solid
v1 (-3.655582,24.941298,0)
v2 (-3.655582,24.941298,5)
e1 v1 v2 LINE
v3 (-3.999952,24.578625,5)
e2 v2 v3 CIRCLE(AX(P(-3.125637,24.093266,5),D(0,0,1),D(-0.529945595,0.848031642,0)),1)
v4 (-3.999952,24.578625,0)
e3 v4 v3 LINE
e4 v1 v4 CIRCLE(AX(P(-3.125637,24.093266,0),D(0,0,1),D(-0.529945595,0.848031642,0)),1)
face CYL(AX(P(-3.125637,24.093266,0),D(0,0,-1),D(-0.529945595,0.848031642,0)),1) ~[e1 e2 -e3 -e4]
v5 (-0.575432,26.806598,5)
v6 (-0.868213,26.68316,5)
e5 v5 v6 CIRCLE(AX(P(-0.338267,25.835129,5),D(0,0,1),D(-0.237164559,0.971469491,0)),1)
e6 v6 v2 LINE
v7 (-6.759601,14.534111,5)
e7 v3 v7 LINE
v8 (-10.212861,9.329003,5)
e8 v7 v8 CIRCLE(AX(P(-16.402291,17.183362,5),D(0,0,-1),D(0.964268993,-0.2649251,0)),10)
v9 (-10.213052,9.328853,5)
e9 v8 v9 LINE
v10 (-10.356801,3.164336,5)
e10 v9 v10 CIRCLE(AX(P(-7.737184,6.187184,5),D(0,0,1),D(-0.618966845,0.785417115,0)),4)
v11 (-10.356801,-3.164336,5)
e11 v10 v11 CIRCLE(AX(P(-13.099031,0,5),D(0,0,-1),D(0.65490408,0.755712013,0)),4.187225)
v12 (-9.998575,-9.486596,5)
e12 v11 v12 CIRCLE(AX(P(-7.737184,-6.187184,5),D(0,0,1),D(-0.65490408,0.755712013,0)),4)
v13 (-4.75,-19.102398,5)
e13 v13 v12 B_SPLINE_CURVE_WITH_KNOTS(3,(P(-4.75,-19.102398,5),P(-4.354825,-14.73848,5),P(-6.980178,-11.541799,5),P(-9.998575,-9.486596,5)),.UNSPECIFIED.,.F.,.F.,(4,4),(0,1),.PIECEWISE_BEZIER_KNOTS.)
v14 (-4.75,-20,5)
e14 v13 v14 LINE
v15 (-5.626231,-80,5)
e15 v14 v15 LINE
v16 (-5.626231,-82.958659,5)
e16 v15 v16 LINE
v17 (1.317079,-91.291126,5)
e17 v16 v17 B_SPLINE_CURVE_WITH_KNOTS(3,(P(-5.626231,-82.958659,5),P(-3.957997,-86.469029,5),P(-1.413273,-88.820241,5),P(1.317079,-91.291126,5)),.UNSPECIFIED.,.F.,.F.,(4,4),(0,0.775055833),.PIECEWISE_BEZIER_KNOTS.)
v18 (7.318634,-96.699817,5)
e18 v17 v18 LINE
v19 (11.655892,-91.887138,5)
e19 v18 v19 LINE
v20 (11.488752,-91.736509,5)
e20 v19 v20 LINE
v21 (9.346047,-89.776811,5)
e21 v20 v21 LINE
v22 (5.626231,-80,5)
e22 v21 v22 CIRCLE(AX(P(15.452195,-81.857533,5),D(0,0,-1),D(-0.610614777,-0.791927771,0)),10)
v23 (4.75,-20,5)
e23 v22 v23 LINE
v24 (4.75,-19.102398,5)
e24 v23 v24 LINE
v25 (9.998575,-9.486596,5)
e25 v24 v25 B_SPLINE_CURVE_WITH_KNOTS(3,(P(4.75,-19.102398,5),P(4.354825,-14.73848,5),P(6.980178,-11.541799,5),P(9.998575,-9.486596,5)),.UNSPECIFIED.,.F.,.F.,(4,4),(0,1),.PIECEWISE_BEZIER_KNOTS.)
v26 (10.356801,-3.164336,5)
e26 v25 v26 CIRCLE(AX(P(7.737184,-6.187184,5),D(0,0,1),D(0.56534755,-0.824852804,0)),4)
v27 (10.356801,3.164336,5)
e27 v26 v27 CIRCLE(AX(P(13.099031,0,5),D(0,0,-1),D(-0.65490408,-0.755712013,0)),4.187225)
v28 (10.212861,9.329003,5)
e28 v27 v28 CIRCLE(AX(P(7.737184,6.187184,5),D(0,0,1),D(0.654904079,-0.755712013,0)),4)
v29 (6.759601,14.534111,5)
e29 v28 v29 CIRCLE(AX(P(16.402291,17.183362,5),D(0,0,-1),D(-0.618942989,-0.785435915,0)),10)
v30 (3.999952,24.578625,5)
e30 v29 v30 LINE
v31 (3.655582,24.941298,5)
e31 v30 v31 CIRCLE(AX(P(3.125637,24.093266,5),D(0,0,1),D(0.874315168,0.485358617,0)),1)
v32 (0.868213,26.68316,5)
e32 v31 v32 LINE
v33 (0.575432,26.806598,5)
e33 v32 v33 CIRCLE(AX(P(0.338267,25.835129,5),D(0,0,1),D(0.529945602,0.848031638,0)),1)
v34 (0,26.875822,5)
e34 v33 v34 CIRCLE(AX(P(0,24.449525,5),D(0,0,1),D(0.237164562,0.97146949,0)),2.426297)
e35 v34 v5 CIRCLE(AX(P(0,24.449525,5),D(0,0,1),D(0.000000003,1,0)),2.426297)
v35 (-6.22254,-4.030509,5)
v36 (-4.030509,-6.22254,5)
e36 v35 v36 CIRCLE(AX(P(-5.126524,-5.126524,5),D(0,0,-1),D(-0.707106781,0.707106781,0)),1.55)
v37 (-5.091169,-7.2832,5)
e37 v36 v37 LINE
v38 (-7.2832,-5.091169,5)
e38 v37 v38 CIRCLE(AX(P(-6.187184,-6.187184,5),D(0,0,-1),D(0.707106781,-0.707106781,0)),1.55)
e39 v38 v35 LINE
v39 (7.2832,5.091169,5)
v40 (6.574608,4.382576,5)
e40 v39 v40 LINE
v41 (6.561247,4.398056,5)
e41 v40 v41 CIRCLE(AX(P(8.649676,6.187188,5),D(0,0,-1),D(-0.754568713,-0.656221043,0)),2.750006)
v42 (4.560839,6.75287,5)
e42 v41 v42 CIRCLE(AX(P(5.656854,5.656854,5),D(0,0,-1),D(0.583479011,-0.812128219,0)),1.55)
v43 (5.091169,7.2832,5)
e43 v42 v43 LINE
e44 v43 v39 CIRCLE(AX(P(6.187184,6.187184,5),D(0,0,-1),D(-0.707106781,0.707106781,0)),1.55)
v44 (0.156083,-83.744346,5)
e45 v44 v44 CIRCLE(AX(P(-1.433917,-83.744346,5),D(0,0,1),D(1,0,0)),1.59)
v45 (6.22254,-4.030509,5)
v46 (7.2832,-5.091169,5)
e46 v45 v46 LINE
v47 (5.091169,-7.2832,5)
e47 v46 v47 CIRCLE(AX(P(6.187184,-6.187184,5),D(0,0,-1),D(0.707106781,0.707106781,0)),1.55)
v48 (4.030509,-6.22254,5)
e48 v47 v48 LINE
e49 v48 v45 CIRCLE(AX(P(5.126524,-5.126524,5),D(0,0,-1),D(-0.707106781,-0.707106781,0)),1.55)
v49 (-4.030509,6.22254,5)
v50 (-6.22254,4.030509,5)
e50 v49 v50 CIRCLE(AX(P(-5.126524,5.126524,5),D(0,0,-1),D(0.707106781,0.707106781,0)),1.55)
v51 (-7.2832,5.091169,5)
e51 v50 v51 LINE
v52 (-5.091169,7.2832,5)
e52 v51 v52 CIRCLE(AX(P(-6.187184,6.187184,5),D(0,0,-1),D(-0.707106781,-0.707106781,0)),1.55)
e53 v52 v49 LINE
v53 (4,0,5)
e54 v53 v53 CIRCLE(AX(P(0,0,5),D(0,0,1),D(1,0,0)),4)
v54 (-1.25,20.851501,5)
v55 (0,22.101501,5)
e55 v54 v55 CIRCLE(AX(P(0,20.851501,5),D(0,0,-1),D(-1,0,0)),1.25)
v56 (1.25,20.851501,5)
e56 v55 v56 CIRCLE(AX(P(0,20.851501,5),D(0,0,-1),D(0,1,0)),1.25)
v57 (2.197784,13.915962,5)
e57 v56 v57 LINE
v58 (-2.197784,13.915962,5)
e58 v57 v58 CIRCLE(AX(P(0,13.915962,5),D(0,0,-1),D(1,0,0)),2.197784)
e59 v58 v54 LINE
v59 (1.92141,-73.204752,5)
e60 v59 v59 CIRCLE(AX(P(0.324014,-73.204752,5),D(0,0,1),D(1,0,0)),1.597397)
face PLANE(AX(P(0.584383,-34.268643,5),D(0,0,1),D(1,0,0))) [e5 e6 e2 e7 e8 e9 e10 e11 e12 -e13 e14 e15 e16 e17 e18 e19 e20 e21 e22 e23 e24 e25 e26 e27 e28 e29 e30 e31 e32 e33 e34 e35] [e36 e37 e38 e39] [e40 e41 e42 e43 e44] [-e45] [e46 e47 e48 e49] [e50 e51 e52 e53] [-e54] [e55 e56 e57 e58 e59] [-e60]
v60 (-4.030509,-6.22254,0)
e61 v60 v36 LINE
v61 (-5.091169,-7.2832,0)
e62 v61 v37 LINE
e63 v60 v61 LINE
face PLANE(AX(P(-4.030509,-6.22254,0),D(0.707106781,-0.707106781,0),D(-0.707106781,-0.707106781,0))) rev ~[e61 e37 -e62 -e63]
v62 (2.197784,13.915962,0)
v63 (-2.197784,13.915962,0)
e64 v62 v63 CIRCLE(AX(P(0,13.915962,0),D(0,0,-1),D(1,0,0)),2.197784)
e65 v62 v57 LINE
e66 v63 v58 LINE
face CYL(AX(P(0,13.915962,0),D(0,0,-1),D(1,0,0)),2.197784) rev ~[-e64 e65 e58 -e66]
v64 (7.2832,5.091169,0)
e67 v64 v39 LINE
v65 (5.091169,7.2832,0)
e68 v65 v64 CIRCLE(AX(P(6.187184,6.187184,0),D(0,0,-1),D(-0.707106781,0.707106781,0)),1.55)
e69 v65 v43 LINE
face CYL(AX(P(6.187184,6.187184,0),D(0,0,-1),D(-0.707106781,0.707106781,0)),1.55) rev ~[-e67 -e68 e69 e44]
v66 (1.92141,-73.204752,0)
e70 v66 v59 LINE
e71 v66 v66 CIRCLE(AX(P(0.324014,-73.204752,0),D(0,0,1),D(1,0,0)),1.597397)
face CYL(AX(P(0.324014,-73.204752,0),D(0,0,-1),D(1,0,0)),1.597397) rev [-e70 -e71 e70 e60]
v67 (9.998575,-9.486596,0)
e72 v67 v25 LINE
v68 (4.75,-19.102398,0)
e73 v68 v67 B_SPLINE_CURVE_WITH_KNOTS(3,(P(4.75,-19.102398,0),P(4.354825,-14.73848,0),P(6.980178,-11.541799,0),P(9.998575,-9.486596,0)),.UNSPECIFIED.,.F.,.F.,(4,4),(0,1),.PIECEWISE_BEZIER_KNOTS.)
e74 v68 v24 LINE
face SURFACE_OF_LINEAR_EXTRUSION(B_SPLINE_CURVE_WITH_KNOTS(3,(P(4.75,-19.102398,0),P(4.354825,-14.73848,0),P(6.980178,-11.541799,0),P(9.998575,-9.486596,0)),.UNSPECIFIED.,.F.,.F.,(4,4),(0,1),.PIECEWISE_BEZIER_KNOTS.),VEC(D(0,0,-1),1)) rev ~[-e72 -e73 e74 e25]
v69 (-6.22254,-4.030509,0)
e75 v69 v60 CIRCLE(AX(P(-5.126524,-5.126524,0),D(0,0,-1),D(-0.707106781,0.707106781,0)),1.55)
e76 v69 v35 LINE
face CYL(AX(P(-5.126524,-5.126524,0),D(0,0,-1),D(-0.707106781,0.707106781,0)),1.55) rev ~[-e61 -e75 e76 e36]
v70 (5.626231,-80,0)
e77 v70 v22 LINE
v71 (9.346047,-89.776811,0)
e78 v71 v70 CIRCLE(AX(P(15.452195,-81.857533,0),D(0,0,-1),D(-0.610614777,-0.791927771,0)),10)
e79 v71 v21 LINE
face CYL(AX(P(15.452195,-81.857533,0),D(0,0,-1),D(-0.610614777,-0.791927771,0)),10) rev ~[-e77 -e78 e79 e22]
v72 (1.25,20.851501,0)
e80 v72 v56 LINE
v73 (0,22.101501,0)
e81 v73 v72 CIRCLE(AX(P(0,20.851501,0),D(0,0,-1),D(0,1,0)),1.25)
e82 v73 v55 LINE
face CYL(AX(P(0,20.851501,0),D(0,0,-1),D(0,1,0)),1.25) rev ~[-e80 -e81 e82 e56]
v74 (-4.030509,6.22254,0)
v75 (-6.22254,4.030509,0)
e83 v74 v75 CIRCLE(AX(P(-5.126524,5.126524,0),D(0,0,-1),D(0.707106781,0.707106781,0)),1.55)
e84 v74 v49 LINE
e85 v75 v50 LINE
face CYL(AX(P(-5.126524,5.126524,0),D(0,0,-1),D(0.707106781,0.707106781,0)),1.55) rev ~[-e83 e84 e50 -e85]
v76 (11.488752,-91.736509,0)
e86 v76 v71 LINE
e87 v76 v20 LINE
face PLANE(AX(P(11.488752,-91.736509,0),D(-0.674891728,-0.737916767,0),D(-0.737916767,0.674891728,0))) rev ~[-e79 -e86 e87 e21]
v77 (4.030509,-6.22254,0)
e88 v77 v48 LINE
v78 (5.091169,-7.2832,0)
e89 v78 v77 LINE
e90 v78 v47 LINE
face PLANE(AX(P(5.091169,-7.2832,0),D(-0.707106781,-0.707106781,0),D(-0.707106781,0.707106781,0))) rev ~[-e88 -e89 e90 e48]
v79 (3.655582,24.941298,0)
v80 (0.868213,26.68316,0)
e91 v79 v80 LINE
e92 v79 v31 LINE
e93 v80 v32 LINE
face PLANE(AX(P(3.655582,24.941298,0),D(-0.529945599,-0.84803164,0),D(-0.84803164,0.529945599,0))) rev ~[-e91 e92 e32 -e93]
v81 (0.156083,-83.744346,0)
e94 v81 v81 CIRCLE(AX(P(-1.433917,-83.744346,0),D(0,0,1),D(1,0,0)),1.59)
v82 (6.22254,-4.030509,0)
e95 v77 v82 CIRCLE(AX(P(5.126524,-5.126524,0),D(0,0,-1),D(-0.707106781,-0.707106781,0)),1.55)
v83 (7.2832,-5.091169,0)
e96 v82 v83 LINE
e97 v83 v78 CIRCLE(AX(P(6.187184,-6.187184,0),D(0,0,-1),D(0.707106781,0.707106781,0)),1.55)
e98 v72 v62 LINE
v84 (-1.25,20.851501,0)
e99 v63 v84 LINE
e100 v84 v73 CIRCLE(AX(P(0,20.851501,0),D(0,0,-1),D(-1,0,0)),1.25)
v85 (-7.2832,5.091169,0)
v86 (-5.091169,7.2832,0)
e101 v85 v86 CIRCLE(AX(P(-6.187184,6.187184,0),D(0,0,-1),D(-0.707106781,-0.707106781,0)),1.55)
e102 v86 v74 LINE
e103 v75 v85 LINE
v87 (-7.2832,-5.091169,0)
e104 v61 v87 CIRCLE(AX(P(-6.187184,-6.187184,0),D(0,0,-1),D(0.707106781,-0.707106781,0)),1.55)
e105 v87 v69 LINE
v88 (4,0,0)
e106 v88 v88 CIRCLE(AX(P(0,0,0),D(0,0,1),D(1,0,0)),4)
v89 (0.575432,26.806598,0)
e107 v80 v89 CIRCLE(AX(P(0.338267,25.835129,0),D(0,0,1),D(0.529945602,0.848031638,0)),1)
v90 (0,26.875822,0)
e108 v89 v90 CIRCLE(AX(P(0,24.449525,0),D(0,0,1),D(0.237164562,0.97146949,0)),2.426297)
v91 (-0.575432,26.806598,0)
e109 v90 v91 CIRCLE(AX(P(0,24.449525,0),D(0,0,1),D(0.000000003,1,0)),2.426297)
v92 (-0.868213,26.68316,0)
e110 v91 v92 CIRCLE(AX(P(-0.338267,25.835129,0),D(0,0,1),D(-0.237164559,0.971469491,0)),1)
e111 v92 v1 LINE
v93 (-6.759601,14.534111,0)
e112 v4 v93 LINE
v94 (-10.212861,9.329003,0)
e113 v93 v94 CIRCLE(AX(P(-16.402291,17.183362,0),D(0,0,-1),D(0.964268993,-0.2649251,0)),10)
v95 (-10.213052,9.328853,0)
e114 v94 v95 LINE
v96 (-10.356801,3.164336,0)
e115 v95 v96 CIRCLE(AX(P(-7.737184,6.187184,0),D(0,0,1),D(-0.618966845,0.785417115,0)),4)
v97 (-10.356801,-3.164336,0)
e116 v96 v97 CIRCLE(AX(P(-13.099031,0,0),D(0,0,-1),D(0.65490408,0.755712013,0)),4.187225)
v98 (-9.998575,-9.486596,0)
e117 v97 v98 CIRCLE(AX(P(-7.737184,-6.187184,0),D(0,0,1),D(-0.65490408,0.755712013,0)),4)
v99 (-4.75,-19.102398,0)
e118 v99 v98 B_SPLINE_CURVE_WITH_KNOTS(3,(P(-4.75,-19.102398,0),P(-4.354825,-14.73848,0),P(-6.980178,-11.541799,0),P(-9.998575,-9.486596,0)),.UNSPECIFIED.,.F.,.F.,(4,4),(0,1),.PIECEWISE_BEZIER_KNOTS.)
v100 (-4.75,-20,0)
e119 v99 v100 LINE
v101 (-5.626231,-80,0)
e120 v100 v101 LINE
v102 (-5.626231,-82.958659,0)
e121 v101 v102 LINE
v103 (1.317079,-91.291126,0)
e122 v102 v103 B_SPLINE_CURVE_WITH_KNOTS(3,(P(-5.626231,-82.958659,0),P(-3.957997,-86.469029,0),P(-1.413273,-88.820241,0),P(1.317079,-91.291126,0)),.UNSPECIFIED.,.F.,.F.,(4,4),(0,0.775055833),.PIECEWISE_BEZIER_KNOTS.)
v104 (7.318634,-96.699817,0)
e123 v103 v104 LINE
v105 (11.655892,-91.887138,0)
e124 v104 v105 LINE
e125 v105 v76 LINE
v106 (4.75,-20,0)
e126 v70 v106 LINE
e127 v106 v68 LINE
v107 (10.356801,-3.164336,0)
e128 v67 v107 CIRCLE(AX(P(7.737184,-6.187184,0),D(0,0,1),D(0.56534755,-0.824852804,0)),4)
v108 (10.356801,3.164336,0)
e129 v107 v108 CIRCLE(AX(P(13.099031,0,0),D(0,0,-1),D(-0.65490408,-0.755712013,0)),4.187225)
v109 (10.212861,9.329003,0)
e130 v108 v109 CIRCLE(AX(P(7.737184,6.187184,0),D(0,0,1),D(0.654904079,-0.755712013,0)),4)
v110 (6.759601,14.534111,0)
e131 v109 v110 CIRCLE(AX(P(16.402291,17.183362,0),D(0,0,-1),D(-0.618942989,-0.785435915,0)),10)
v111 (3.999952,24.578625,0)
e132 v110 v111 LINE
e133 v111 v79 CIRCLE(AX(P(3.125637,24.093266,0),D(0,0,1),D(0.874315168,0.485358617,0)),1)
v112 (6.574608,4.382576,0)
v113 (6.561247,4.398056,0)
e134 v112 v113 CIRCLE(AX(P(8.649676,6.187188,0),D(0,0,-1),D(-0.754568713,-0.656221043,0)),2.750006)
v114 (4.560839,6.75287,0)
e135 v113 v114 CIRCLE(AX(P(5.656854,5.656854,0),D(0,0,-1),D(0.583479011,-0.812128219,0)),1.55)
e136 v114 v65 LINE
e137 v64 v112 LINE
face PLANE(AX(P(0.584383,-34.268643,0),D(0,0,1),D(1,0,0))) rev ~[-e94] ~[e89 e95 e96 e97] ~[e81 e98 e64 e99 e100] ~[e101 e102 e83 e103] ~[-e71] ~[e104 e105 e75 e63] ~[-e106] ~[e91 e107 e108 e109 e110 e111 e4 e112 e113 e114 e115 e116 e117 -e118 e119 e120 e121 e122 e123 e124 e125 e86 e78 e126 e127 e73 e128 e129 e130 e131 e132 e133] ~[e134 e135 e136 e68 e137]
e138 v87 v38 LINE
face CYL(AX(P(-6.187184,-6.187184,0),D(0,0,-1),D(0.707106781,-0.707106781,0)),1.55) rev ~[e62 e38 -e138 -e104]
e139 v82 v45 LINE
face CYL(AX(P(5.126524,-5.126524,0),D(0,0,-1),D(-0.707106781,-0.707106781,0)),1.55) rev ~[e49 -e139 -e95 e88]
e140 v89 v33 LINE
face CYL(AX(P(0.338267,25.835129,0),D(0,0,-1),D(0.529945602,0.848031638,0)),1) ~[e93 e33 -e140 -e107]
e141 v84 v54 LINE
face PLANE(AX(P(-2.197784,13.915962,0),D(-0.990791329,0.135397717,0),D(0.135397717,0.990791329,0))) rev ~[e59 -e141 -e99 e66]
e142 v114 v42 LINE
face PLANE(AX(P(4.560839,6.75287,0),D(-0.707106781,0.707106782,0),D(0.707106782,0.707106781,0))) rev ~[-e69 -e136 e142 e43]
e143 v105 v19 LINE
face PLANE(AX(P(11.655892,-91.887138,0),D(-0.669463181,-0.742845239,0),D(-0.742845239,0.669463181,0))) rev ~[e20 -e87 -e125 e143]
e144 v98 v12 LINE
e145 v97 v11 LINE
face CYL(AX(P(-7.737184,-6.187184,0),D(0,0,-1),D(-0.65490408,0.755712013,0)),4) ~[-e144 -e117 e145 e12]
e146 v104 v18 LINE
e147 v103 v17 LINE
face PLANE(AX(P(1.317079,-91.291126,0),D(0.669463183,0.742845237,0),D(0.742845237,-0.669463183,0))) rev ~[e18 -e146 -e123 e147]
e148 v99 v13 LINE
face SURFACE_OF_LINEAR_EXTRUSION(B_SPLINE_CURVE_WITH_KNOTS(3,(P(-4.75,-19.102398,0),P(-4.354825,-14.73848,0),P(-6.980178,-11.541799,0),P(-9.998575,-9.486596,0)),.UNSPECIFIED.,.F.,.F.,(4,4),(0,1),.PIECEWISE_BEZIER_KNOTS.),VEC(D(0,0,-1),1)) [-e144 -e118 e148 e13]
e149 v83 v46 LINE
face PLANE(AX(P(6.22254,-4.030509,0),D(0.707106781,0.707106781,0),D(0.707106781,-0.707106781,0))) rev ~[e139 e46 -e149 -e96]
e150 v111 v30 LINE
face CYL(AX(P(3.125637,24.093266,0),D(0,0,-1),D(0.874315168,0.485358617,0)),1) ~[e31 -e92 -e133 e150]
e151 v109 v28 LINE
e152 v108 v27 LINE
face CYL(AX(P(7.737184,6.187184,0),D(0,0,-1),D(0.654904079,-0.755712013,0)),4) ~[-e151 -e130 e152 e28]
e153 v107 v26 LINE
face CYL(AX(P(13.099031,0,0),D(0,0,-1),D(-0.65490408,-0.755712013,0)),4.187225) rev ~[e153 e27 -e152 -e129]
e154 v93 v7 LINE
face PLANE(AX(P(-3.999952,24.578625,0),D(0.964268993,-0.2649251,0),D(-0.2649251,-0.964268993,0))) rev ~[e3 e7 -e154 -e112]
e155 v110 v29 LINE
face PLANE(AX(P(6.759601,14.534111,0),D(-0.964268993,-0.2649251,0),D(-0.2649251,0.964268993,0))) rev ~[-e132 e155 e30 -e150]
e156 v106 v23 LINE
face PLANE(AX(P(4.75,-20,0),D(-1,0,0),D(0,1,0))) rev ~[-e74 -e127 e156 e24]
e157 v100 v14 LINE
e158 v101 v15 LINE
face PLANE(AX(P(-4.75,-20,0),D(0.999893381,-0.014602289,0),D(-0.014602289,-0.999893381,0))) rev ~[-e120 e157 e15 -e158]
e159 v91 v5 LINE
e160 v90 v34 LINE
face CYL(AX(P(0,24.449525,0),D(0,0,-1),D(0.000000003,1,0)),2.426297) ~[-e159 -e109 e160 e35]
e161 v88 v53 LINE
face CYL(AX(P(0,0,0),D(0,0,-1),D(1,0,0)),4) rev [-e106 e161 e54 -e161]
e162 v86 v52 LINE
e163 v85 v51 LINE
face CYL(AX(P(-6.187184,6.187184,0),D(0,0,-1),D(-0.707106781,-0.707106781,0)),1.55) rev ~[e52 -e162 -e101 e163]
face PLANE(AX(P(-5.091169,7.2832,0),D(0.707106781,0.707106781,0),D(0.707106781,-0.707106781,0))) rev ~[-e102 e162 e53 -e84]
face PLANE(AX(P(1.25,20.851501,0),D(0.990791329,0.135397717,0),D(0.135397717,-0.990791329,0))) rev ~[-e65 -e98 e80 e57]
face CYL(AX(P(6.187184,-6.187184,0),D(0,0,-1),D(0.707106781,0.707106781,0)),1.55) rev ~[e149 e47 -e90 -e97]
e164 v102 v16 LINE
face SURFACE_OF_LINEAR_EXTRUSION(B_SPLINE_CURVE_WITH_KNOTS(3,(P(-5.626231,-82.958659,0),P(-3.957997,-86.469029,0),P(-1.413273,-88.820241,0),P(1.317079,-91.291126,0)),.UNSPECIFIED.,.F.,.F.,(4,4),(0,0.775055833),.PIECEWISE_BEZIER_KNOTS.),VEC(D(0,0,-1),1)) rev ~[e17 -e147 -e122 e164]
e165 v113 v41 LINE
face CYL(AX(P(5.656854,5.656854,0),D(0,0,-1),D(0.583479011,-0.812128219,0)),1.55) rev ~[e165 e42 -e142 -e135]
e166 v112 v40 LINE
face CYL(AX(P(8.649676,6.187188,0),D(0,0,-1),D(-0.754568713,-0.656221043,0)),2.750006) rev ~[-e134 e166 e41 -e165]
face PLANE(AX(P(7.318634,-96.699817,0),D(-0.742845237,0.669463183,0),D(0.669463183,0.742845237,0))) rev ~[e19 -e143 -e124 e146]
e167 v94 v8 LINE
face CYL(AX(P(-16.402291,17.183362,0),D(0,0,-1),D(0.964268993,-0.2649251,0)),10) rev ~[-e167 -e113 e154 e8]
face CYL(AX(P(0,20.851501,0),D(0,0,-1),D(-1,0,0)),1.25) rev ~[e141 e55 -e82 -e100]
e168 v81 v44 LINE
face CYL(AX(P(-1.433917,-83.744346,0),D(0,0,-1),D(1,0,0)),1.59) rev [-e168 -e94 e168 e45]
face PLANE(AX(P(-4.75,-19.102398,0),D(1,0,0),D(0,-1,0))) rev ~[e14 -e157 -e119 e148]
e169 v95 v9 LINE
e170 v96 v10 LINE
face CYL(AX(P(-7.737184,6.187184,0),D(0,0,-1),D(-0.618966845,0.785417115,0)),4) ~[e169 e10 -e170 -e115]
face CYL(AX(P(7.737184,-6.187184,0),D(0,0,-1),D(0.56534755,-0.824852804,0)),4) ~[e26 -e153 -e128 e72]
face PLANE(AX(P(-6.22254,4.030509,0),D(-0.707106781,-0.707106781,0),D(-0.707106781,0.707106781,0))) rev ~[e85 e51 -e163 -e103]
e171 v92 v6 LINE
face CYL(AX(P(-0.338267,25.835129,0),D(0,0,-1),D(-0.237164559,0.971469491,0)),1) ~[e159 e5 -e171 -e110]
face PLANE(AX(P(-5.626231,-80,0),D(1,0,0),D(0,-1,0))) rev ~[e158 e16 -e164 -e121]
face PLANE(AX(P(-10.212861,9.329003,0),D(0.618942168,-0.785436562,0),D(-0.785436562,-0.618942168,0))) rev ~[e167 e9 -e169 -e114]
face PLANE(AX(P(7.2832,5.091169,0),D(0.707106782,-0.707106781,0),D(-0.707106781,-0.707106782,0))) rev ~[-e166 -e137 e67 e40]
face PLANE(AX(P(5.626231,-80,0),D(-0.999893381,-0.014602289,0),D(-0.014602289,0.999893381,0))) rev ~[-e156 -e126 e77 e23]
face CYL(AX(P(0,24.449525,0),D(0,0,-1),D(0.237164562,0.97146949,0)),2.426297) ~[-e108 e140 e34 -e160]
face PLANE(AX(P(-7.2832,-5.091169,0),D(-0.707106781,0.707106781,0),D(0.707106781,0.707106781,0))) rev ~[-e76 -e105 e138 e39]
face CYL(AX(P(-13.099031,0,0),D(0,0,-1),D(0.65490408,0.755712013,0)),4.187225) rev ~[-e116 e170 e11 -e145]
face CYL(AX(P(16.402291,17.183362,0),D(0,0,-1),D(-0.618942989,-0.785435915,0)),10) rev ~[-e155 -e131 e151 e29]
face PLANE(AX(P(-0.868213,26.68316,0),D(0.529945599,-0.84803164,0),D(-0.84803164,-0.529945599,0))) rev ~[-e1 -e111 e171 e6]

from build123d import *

# Parameters (mm, degrees)
CROQUIS1_R              = 1.59
CROQUIS1_R_2            = 1.597396507
CROQUIS1_R_3            = 4
SALIENTE_EXTRUIR1_DEPTH = 5


with BuildPart() as part:
    # Croquis1 → Saliente-Extruir1 (new body)
    with BuildSketch(Plane.XY):
        with BuildLine():
            ThreePointArc((0.575431621, 26.806598054), (0.289790201, 26.858453505), (0, 26.875821538))
            ThreePointArc((0, 26.875821538), (-0.289790201, 26.858453505), (-0.575431621, 26.806598054))
            ThreePointArc((-0.575431621, 26.806598054), (-0.726756088, 26.756581913), (-0.868212659, 26.683160203))
            Line((-0.868212659, 26.683160203), (-3.655582472, 24.941297878))
            ThreePointArc((-3.655582472, 24.941297878), (-3.850805823, 24.781837219), (-3.999952041, 24.578624857))
            Line((-3.999952041, 24.578624857), (-6.759600821, 14.534111339))
            ThreePointArc((-6.759600821, 14.534111339), (-8.069386565, 11.655007451), (-10.212860864, 9.329003191))
            Line((-10.212860864, 9.329003191), (-10.213051715, 9.328852796))
            ThreePointArc((-10.213051715, 9.328852796), (-11.736097249, 6.280434064), (-10.356800654, 3.164336284))
            ThreePointArc((-10.356800654, 3.164336284), (-8.911806366, 0), (-10.356800654, -3.164336284))
            ThreePointArc((-10.356800654, -3.164336284), (-11.730778796, -6.413465762), (-9.998574535, -9.48659555))
            add(Edge.make_bspline(
                [(-4.75, -19.102398031), (-4.354825004, -14.738479929), (-6.980177997, -11.541798515), (-9.998574535, -9.48659555)],
                knots=[0, 0, 0, 0, 1, 1, 1, 1], degree=3))
            Line((-4.75, -19.102398031), (-4.75, -20))
            Line((-4.75, -20), (-5.626230736, -80))
            Line((-5.626230736, -80), (-5.626230736, -82.958659211))
            add(Edge.make_bspline(
                [(-5.626230736, -82.958659211), (-3.957996586, -86.469029482), (-1.413273472, -88.8202413), (1.317079372, -91.291125809)],
                knots=[0, 0, 0, 0, 0.775055833, 0.775055833, 0.775055833, 0.775055833], degree=3))
            Line((1.317079372, -91.291125809), (7.31863448, -96.699816586))
            Line((7.31863448, -96.699816586), (11.655892242, -91.88713778))
            Line((11.655892242, -91.88713778), (11.488752063, -91.736508564))
            Line((11.488752063, -91.736508564), (9.346047089, -89.776810767))
            ThreePointArc((9.346047089, -89.776810767), (6.105829013, -85.413576573), (5.626230736, -80))
            Line((5.626230736, -80), (4.75, -20))
            Line((4.75, -20), (4.75, -19.102398031))
            add(Edge.make_bspline(
                [(4.75, -19.102398031), (4.354825004, -14.738479929), (6.980177997, -11.541798515), (9.998574535, -9.48659555)],
                knots=[0, 0, 0, 0, 1, 1, 1, 1], degree=3))
            ThreePointArc((9.998574535, -9.48659555), (11.730778796, -6.413465762), (10.356800654, -3.164336284))
            ThreePointArc((10.356800654, -3.164336284), (8.911806366, 0), (10.356800654, 3.164336284))
            ThreePointArc((10.356800654, 3.164336284), (11.736094415, 6.280555524), (10.212860864, 9.329003191))
            ThreePointArc((10.212860864, 9.329003191), (8.069386565, 11.655007451), (6.759600821, 14.534111339))
            Line((6.759600821, 14.534111339), (3.999952041, 24.578624857))
            ThreePointArc((3.999952041, 24.578624857), (3.850805823, 24.781837219), (3.655582472, 24.941297878))
            Line((3.655582472, 24.941297878), (0.868212659, 26.683160203))
            ThreePointArc((0.868212659, 26.683160203), (0.726756088, 26.756581913), (0.575431621, 26.806598054))
        make_face()
        with Locations((-1.433916555, -83.744346036)):
            Circle(CROQUIS1_R, mode=Mode.SUBTRACT)
        with Locations((0.324013646, -73.204752137)):
            Circle(CROQUIS1_R_2, mode=Mode.SUBTRACT)
        with BuildLine():
            ThreePointArc((-5.091168825, -7.283199846), (-7.283199846, -7.283199846), (-7.283199846, -5.091168825))
            Line((-7.283199846, -5.091168825), (-6.222539674, -4.030508653))
            ThreePointArc((-6.222539674, -4.030508653), (-4.030508653, -4.030508653), (-4.030508653, -6.222539674))
            Line((-4.030508653, -6.222539674), (-5.091168825, -7.283199846))
        make_face(mode=Mode.SUBTRACT)
        with BuildLine():
            ThreePointArc((-7.283199846, 5.091168825), (-7.283199846, 7.283199846), (-5.091168825, 7.283199846))
            Line((-5.091168825, 7.283199846), (-4.030508653, 6.222539674))
            ThreePointArc((-4.030508653, 6.222539674), (-4.030508653, 4.030508653), (-6.222539674, 4.030508653))
            Line((-6.222539674, 4.030508653), (-7.283199846, 5.091168825))
        make_face(mode=Mode.SUBTRACT)
        with BuildLine():
            ThreePointArc((7.283199846, -5.091168825), (7.283199846, -7.283199846), (5.091168825, -7.283199846))
            Line((5.091168825, -7.283199846), (4.030508653, -6.222539674))
            ThreePointArc((4.030508653, -6.222539674), (4.030508653, -4.030508653), (6.222539674, -4.030508653))
            Line((6.222539674, -4.030508653), (7.283199846, -5.091168825))
        make_face(mode=Mode.SUBTRACT)
        Circle(CROQUIS1_R_3, mode=Mode.SUBTRACT)
        with BuildLine():
            Line((4.560838717, 6.752869739), (5.091168825, 7.283199846))
            ThreePointArc((5.091168825, 7.283199846), (7.283199846, 7.283199846), (7.283199846, 5.091168825))
            Line((7.283199846, 5.091168825), (6.574607513, 4.382576491))
            ThreePointArc((6.574607513, 4.382576491), (6.567912728, 4.390303583), (6.561246717, 4.398055511))
            ThreePointArc((6.561246717, 4.398055511), (4.475555235, 4.653344091), (4.560838717, 6.752869739))
        make_face(mode=Mode.SUBTRACT)
        with BuildLine():
            ThreePointArc((2.197784017, 13.915961953), (0, 11.718177935), (-2.197784017, 13.915961953))
            Line((-2.197784017, 13.915961953), (-1.25, 20.851501258))
            ThreePointArc((-1.25, 20.851501258), (-0.883883476, 21.735384735), (0, 22.101501258))
            ThreePointArc((0, 22.101501258), (0.883883476, 21.735384735), (1.25, 20.851501258))
            Line((1.25, 20.851501258), (2.197784017, 13.915961953))
        make_face(mode=Mode.SUBTRACT)
    extrude(amount=SALIENTE_EXTRUIR1_DEPTH)


solid = part.part
